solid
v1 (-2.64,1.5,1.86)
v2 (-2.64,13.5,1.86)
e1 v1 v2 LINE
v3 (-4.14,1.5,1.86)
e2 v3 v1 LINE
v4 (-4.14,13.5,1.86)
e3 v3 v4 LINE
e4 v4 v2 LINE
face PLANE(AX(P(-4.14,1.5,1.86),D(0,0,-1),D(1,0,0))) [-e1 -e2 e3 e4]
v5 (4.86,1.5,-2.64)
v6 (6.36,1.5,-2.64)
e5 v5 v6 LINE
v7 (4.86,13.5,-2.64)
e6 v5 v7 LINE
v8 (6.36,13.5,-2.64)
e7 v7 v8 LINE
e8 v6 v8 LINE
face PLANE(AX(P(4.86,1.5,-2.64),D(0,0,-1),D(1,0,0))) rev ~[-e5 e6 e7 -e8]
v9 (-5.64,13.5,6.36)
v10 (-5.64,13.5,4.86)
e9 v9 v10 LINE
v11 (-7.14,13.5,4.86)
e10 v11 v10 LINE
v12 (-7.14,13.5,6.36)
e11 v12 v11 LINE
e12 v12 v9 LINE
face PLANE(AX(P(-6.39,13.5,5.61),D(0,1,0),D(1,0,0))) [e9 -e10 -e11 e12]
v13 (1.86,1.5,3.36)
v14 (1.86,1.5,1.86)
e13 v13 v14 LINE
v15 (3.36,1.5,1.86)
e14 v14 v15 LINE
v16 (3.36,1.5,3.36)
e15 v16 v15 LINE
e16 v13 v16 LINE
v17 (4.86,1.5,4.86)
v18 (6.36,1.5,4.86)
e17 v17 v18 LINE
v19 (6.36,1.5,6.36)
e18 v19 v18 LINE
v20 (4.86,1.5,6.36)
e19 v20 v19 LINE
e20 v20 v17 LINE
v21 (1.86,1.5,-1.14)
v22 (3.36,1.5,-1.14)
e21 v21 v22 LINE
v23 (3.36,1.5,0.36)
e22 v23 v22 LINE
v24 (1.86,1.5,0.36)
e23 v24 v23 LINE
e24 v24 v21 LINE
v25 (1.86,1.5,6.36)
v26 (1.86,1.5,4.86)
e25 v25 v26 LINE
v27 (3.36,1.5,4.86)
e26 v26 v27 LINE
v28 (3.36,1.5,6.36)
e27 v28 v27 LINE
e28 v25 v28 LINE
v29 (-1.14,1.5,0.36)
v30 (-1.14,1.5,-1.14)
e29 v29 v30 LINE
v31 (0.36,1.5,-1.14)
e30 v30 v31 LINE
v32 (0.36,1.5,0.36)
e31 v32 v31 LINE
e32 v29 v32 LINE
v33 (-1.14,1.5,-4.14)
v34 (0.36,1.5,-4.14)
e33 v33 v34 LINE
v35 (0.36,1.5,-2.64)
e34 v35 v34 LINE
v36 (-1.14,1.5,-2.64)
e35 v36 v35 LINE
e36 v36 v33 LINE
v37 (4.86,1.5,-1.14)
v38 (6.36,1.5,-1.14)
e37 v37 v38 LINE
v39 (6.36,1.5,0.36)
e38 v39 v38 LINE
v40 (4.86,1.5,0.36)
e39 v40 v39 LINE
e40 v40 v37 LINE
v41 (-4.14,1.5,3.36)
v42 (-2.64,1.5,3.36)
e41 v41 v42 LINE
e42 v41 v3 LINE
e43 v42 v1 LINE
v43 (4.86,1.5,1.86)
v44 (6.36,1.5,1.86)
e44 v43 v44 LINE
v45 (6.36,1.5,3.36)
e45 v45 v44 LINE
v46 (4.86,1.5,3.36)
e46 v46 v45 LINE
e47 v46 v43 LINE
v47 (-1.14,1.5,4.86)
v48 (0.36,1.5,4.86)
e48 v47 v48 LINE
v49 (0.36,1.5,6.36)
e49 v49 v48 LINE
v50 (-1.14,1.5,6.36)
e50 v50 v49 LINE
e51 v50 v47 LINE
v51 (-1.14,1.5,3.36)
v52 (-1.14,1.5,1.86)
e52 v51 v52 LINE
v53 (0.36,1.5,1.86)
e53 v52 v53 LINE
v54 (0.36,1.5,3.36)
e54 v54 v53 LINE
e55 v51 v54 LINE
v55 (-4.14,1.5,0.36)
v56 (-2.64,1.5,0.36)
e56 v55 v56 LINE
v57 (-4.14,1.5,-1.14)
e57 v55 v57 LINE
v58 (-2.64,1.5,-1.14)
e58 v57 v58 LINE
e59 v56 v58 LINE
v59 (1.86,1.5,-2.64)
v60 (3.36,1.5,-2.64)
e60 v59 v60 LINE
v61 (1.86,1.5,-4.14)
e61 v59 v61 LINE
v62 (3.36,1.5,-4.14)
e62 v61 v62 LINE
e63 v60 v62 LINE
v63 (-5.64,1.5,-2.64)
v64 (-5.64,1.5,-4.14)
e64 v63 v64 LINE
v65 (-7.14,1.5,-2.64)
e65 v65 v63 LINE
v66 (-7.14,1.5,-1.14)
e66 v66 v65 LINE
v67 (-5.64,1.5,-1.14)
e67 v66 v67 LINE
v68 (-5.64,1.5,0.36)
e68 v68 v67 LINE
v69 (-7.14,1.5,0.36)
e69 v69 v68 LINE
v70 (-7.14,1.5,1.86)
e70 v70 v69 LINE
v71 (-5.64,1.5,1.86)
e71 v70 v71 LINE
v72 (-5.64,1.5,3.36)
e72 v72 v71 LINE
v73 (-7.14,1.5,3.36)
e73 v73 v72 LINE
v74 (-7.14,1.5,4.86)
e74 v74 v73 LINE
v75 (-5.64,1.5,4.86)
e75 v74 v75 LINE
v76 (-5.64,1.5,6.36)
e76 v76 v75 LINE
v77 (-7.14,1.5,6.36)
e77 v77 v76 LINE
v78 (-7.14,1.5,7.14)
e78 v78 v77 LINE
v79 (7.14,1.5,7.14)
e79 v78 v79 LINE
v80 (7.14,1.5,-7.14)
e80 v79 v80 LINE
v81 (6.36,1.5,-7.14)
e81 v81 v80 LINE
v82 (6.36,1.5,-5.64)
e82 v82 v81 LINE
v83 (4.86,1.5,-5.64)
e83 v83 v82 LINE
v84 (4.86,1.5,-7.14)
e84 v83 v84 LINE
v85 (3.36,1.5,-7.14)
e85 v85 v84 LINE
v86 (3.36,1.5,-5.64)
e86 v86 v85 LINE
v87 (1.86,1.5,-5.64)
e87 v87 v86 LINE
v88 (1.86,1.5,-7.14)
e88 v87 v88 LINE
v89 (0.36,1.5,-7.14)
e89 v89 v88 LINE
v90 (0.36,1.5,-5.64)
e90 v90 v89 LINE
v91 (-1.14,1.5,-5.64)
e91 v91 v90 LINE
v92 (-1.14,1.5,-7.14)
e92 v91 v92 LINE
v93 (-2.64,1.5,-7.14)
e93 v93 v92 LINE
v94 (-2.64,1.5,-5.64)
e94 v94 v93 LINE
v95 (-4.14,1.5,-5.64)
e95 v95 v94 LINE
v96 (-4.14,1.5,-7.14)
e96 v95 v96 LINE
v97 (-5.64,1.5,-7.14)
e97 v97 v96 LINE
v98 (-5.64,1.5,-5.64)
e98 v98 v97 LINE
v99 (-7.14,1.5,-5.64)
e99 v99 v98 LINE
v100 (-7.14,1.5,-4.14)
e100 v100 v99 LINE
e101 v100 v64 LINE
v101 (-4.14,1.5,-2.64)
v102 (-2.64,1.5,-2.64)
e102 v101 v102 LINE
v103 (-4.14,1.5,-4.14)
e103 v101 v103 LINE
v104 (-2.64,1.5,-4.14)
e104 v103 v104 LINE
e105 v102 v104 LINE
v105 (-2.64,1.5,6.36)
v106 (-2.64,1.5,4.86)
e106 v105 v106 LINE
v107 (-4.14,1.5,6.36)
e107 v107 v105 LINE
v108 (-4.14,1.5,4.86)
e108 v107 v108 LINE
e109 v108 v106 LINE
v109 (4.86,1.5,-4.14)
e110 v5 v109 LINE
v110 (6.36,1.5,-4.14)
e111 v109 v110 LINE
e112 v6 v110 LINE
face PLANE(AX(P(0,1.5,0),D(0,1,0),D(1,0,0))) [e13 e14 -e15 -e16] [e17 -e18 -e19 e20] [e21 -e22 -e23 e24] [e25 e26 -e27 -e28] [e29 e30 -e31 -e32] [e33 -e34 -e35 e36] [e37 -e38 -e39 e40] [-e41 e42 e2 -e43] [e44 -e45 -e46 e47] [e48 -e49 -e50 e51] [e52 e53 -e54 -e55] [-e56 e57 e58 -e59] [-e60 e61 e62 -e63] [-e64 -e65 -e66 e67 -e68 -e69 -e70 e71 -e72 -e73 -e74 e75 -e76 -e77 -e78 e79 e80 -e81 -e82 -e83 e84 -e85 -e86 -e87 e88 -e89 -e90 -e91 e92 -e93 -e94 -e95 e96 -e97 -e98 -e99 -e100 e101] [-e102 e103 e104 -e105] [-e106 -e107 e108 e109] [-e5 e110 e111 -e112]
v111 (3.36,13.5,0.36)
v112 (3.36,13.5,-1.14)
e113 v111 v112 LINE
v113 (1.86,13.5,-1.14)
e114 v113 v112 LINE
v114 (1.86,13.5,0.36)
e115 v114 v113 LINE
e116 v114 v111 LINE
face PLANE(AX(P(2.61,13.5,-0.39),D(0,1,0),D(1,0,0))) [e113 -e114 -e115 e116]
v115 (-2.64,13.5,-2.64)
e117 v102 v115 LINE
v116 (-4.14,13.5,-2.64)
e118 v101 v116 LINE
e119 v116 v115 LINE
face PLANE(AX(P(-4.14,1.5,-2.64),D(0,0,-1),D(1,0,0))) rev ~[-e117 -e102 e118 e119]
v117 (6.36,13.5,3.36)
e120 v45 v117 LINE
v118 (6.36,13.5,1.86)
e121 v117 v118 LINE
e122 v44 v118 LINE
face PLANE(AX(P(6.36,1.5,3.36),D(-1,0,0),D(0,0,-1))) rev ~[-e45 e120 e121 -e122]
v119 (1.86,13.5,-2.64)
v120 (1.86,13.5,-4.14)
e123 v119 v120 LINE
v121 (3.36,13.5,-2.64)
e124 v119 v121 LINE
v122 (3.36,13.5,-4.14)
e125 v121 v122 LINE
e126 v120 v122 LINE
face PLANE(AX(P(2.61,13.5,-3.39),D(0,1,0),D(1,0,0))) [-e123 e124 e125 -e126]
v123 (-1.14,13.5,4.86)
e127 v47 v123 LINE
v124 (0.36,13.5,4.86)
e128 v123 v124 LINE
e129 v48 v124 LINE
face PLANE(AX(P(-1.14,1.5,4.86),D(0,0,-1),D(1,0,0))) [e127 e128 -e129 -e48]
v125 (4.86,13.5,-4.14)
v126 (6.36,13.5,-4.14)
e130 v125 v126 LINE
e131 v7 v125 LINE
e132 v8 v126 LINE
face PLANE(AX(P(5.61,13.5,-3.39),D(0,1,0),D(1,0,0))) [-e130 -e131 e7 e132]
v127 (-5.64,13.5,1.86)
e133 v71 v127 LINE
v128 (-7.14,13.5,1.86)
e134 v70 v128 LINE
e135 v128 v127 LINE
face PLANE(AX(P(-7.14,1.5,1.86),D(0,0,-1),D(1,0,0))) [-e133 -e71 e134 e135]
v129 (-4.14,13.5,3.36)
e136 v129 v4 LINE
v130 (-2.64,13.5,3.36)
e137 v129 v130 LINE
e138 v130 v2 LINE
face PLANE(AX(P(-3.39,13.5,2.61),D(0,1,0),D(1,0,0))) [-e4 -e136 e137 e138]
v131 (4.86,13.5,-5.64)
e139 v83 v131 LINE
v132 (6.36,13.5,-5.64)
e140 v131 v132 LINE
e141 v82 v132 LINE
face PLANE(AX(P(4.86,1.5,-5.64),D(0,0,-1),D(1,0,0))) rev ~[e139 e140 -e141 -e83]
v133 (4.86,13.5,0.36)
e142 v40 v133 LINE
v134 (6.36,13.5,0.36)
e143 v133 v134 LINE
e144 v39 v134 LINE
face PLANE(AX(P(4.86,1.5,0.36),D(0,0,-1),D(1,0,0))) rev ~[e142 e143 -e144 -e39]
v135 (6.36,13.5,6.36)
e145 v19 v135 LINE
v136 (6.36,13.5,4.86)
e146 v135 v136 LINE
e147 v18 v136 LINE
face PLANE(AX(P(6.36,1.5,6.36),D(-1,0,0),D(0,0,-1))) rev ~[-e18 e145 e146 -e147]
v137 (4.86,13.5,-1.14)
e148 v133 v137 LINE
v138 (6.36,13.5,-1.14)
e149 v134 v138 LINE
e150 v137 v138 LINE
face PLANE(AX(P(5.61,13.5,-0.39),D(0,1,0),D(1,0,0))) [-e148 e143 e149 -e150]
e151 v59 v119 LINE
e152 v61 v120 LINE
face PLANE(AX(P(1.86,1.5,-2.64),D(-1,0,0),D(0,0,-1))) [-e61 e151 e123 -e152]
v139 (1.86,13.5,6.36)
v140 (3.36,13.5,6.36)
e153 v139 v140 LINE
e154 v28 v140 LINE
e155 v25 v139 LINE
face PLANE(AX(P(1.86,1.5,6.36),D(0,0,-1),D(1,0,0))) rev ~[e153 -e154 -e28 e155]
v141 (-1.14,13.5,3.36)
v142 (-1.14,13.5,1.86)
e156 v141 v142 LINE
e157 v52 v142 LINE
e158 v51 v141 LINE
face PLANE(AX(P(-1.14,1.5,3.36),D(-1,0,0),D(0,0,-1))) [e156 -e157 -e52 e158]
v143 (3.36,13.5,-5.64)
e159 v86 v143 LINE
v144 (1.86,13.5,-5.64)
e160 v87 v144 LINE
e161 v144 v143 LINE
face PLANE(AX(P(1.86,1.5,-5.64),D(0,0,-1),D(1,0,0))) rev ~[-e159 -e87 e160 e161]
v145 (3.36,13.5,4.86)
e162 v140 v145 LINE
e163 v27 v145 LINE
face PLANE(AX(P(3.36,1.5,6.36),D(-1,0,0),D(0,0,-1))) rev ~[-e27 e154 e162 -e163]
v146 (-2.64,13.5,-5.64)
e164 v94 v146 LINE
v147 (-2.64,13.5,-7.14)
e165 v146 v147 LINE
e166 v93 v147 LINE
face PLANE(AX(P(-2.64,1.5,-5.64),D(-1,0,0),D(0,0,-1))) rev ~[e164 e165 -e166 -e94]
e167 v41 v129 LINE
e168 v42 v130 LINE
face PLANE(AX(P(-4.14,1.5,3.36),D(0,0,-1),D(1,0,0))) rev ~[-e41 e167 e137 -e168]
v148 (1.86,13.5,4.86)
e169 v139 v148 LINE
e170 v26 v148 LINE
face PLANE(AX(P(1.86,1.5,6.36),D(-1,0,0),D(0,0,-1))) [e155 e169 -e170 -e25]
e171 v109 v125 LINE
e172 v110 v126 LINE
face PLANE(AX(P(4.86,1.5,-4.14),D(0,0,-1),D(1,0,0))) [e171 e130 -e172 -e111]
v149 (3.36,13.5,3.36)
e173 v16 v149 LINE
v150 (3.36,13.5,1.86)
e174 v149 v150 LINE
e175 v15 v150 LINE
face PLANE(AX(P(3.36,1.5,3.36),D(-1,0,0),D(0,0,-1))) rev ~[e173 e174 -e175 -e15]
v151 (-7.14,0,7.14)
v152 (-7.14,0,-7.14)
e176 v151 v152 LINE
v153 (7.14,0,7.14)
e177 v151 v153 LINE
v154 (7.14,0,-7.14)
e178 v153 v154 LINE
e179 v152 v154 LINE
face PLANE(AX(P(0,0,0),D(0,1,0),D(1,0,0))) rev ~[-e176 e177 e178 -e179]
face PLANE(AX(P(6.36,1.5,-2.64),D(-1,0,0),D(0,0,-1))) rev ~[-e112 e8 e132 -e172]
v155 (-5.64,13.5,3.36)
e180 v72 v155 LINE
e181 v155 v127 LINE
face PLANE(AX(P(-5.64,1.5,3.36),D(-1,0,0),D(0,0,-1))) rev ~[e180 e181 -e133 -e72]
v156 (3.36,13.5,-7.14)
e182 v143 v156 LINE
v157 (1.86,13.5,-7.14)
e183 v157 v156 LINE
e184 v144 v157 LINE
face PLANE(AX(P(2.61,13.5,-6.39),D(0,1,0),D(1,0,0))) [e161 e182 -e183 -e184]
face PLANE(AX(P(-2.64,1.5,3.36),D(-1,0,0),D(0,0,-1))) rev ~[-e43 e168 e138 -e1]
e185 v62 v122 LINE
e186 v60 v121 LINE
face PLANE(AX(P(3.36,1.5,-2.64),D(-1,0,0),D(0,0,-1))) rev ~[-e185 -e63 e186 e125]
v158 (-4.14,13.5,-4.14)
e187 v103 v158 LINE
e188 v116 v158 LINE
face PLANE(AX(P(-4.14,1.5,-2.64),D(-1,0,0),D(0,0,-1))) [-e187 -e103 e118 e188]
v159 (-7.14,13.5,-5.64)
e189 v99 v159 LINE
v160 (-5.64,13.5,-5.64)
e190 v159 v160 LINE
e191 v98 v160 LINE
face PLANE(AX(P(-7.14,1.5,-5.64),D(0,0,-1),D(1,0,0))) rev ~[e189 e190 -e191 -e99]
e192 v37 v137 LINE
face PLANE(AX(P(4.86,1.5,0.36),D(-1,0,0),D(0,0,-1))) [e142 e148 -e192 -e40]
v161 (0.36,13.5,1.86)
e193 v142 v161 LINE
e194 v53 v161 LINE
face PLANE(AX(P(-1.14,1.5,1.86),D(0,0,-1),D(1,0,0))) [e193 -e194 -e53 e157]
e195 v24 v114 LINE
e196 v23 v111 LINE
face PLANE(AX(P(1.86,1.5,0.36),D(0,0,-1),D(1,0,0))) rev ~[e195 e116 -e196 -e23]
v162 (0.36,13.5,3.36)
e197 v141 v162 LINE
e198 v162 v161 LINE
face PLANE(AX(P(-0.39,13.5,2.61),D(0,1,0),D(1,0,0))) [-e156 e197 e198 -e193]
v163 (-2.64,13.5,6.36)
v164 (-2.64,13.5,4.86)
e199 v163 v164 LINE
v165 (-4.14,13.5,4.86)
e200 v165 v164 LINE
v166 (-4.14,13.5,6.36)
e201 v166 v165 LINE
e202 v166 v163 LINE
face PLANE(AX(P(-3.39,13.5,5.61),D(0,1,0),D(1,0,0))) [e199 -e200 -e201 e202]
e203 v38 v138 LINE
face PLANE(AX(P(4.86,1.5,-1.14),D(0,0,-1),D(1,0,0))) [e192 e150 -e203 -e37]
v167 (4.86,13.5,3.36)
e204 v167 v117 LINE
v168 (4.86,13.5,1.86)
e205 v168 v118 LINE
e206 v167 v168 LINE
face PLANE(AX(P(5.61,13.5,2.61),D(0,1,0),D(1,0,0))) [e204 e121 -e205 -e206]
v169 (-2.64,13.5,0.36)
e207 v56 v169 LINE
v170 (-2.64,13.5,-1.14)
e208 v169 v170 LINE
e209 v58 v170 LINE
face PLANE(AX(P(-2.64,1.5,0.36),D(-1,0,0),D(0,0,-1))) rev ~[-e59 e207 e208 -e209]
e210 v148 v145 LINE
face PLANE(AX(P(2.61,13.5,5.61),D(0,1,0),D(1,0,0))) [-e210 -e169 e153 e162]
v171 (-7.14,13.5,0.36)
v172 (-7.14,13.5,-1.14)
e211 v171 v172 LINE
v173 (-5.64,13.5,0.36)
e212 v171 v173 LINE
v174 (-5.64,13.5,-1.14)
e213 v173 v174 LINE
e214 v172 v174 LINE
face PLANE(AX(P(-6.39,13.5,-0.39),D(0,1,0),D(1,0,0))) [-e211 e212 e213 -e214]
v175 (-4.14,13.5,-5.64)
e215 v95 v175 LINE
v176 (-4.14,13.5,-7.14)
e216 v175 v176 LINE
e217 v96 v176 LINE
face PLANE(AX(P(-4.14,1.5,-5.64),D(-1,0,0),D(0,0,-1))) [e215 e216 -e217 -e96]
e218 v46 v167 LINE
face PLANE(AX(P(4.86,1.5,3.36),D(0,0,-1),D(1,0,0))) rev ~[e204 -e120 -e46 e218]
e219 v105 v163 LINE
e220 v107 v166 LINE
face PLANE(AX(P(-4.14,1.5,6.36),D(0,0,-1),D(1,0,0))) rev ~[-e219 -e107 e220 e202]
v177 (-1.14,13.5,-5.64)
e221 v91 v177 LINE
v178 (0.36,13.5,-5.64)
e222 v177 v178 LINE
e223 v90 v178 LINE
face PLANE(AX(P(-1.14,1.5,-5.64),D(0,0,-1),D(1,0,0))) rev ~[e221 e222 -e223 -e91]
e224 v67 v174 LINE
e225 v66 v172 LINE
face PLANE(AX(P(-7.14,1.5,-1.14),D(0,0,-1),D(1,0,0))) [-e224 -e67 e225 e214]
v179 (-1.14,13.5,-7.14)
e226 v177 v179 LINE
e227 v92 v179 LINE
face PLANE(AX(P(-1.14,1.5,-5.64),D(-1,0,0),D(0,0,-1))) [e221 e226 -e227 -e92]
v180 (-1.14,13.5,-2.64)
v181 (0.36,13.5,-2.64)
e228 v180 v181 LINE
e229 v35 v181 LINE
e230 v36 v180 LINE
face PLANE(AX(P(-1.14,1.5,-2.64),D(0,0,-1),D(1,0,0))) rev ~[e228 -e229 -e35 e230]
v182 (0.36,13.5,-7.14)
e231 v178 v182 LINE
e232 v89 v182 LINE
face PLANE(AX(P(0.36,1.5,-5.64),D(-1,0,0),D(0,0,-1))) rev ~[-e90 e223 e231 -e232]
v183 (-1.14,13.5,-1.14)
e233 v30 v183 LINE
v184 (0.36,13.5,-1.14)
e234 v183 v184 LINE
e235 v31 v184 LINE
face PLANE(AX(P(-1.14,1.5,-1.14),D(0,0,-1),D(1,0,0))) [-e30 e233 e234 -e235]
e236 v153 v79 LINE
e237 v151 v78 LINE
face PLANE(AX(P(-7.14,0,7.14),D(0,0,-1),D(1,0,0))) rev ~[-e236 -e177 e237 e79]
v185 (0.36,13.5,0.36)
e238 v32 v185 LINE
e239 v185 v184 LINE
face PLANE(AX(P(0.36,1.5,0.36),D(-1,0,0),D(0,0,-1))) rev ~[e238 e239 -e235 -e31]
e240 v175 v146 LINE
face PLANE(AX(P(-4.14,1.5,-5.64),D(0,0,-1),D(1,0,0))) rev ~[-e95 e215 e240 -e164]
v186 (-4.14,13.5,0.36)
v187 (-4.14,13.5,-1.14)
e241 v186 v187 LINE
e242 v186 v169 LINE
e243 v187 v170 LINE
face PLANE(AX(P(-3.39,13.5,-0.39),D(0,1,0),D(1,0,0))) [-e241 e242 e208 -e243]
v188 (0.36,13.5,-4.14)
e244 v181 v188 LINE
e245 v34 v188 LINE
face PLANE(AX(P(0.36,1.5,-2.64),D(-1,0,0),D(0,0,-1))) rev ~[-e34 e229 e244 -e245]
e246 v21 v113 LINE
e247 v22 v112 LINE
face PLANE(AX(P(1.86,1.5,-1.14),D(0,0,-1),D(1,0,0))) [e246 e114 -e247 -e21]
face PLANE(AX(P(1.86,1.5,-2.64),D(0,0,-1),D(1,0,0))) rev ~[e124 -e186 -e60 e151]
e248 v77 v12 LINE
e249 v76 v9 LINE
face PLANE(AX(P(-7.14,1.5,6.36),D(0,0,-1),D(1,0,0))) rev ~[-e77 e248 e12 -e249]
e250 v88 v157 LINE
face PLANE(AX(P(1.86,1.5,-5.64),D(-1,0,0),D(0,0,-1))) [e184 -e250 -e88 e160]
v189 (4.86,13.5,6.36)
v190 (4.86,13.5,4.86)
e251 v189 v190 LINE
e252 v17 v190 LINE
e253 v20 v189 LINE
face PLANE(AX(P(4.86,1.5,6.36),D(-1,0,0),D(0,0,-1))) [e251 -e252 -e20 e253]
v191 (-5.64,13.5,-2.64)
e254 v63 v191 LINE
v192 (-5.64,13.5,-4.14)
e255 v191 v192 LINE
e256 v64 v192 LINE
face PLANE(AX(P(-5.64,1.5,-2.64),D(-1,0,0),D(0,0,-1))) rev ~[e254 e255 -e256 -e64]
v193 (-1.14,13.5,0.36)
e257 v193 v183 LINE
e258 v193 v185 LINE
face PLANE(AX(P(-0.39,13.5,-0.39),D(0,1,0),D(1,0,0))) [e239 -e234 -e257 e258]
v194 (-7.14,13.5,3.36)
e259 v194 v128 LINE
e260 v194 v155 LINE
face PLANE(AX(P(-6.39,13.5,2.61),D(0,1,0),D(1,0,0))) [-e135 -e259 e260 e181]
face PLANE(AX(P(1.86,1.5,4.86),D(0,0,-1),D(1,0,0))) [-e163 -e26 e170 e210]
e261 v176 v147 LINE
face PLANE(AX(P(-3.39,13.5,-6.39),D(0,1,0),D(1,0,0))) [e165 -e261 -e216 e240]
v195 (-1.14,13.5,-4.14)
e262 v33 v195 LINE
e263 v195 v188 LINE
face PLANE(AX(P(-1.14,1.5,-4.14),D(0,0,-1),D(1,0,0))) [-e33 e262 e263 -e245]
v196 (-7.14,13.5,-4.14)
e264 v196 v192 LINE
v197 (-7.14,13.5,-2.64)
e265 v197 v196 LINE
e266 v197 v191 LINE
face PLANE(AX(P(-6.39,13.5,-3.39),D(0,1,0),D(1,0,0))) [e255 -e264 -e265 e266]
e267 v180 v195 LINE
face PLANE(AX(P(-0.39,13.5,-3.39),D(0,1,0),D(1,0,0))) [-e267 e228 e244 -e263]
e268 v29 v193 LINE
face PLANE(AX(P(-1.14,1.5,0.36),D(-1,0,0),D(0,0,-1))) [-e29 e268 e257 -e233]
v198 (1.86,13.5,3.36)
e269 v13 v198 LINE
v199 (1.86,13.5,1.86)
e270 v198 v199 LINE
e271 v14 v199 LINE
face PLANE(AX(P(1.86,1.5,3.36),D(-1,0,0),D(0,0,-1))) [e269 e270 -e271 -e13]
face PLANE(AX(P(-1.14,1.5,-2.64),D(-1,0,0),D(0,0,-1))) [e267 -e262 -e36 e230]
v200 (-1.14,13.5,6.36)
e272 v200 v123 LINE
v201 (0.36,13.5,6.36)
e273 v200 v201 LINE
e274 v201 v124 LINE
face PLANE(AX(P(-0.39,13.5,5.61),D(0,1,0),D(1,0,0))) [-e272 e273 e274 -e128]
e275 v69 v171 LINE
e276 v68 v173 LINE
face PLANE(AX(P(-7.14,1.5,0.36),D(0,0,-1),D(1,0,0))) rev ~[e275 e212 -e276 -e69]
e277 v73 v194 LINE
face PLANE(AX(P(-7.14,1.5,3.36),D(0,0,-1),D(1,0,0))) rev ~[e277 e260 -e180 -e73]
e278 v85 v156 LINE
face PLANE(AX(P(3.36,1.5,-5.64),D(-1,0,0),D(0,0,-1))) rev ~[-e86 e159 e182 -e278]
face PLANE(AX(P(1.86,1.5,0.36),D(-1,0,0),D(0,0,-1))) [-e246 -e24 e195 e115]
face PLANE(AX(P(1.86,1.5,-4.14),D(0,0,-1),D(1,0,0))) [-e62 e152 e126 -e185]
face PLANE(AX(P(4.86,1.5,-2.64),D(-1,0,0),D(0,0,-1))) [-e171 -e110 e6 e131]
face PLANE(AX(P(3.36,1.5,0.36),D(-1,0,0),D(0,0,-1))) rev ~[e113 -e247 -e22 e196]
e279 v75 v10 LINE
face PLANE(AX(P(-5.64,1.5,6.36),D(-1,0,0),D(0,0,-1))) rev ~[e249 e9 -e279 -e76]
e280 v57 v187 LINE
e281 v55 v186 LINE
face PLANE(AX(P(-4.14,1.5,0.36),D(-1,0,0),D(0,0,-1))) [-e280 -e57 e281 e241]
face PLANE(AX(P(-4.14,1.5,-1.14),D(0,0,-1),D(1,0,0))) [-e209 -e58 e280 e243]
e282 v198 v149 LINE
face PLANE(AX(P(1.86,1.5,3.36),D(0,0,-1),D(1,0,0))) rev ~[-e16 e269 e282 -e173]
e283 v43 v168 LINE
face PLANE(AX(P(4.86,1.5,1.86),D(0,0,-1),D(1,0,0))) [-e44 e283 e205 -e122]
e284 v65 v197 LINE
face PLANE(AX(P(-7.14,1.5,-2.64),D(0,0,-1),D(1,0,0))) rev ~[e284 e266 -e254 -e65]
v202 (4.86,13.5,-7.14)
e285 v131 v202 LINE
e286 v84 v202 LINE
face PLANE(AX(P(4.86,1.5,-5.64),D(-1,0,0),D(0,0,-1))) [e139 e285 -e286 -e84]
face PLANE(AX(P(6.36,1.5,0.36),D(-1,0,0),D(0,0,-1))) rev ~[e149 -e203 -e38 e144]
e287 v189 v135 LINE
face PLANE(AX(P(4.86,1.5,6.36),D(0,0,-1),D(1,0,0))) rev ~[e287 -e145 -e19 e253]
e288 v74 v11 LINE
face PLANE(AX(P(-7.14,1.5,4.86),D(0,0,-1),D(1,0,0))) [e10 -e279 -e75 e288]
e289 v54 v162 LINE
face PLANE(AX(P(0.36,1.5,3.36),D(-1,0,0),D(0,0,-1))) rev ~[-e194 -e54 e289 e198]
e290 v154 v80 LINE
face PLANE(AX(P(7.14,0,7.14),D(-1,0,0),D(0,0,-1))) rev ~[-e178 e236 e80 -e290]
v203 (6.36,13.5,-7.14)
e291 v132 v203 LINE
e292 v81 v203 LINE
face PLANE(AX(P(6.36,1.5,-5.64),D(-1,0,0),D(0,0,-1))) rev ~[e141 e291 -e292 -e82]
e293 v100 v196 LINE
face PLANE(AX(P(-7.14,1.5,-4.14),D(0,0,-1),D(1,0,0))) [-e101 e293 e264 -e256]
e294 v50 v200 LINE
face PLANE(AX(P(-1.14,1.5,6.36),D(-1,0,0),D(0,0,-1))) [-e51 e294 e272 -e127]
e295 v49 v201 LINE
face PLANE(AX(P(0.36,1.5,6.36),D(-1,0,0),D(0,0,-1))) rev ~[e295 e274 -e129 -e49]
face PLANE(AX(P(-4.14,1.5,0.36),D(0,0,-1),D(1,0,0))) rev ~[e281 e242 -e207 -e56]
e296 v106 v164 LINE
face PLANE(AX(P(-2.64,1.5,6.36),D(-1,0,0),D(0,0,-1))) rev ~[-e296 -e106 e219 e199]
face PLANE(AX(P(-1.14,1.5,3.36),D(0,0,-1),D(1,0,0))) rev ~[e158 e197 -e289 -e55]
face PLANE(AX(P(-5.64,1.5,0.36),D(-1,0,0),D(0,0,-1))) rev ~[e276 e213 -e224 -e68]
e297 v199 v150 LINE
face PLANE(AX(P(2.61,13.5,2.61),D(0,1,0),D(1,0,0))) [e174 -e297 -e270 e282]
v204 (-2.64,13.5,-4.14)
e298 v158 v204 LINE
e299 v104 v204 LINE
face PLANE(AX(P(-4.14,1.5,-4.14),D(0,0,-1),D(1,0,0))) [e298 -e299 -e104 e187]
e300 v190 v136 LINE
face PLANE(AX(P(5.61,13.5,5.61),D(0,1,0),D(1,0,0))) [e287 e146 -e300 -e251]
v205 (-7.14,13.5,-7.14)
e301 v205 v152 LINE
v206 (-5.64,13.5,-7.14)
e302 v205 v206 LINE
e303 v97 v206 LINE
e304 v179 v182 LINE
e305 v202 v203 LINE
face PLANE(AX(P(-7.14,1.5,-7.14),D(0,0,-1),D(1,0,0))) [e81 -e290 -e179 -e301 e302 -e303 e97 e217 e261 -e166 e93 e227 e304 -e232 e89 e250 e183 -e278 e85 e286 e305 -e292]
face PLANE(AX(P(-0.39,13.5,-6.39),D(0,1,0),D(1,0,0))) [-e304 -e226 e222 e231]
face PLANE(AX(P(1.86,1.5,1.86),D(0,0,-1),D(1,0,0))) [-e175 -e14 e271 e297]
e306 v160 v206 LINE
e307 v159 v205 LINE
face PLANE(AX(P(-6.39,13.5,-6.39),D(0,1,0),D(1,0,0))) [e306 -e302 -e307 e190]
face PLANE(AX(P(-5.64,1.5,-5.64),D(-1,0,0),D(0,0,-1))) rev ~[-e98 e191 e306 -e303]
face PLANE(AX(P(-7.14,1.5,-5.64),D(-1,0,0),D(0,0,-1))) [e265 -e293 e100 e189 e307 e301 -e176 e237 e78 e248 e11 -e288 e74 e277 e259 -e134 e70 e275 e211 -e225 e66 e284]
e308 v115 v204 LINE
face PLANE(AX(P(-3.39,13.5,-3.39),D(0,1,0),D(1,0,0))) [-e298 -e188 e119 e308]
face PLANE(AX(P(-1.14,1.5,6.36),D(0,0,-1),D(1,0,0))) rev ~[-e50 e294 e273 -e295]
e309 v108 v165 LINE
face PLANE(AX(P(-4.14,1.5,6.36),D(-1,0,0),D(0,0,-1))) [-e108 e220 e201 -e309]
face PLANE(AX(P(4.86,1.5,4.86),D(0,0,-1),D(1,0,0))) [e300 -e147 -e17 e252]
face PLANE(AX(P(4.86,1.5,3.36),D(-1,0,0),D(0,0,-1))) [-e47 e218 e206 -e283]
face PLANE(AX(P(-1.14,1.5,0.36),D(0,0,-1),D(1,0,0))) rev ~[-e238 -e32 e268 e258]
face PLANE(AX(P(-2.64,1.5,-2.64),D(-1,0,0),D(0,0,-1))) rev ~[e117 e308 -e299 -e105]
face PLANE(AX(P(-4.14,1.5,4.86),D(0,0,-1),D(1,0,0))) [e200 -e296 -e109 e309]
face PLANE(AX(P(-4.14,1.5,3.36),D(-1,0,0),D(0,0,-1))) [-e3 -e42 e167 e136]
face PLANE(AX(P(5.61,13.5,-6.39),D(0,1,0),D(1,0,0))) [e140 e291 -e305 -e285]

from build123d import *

# Parameters (mm, degrees)
SKETCH1_W            = 14.28
SKETCH1_H            = 14.28
BOSS_EXTRUDE1_DEPTH  = 1.5
SKETCH3_W            = 1.5
SKETCH3_H            = 1.5
BOSS_EXTRUDE3_DEPTH  = 12
LPATTERN2_COUNT      = 5
LPATTERN2_PITCH      = 3
LPATTERN2_COUNT_DIR2 = 5
LPATTERN2_PITCH_DIR2 = 3


with BuildPart() as part:
    # Sketch1 → Boss-Extrude1 (new body)
    with BuildSketch(Plane(origin=(0, 0, 0), x_dir=(1, 0, 0), z_dir=(0, 1, 0))):
        Rectangle(SKETCH1_W, SKETCH1_H)
    extrude(amount=BOSS_EXTRUDE1_DEPTH)

    # Sketch3 → Boss-Extrude3 (add)
    with BuildSketch(Plane(origin=(0, 1.5, 0), x_dir=(1, 0, 0), z_dir=(0, 1, 0))):
        with Locations((-6.39, 6.39)):
            Rectangle(SKETCH3_W, SKETCH3_H)
    boss_extrude3 = extrude(amount=BOSS_EXTRUDE3_DEPTH)

    # LPattern2: Boss-Extrude3 5 × 5
    with Locations(*[(i * LPATTERN2_PITCH, 0, j * LPATTERN2_PITCH_DIR2) for i in range(LPATTERN2_COUNT) for j in range(LPATTERN2_COUNT_DIR2) if (i, j) != (0, 0)]):
        add(boss_extrude3)


solid = part.part
